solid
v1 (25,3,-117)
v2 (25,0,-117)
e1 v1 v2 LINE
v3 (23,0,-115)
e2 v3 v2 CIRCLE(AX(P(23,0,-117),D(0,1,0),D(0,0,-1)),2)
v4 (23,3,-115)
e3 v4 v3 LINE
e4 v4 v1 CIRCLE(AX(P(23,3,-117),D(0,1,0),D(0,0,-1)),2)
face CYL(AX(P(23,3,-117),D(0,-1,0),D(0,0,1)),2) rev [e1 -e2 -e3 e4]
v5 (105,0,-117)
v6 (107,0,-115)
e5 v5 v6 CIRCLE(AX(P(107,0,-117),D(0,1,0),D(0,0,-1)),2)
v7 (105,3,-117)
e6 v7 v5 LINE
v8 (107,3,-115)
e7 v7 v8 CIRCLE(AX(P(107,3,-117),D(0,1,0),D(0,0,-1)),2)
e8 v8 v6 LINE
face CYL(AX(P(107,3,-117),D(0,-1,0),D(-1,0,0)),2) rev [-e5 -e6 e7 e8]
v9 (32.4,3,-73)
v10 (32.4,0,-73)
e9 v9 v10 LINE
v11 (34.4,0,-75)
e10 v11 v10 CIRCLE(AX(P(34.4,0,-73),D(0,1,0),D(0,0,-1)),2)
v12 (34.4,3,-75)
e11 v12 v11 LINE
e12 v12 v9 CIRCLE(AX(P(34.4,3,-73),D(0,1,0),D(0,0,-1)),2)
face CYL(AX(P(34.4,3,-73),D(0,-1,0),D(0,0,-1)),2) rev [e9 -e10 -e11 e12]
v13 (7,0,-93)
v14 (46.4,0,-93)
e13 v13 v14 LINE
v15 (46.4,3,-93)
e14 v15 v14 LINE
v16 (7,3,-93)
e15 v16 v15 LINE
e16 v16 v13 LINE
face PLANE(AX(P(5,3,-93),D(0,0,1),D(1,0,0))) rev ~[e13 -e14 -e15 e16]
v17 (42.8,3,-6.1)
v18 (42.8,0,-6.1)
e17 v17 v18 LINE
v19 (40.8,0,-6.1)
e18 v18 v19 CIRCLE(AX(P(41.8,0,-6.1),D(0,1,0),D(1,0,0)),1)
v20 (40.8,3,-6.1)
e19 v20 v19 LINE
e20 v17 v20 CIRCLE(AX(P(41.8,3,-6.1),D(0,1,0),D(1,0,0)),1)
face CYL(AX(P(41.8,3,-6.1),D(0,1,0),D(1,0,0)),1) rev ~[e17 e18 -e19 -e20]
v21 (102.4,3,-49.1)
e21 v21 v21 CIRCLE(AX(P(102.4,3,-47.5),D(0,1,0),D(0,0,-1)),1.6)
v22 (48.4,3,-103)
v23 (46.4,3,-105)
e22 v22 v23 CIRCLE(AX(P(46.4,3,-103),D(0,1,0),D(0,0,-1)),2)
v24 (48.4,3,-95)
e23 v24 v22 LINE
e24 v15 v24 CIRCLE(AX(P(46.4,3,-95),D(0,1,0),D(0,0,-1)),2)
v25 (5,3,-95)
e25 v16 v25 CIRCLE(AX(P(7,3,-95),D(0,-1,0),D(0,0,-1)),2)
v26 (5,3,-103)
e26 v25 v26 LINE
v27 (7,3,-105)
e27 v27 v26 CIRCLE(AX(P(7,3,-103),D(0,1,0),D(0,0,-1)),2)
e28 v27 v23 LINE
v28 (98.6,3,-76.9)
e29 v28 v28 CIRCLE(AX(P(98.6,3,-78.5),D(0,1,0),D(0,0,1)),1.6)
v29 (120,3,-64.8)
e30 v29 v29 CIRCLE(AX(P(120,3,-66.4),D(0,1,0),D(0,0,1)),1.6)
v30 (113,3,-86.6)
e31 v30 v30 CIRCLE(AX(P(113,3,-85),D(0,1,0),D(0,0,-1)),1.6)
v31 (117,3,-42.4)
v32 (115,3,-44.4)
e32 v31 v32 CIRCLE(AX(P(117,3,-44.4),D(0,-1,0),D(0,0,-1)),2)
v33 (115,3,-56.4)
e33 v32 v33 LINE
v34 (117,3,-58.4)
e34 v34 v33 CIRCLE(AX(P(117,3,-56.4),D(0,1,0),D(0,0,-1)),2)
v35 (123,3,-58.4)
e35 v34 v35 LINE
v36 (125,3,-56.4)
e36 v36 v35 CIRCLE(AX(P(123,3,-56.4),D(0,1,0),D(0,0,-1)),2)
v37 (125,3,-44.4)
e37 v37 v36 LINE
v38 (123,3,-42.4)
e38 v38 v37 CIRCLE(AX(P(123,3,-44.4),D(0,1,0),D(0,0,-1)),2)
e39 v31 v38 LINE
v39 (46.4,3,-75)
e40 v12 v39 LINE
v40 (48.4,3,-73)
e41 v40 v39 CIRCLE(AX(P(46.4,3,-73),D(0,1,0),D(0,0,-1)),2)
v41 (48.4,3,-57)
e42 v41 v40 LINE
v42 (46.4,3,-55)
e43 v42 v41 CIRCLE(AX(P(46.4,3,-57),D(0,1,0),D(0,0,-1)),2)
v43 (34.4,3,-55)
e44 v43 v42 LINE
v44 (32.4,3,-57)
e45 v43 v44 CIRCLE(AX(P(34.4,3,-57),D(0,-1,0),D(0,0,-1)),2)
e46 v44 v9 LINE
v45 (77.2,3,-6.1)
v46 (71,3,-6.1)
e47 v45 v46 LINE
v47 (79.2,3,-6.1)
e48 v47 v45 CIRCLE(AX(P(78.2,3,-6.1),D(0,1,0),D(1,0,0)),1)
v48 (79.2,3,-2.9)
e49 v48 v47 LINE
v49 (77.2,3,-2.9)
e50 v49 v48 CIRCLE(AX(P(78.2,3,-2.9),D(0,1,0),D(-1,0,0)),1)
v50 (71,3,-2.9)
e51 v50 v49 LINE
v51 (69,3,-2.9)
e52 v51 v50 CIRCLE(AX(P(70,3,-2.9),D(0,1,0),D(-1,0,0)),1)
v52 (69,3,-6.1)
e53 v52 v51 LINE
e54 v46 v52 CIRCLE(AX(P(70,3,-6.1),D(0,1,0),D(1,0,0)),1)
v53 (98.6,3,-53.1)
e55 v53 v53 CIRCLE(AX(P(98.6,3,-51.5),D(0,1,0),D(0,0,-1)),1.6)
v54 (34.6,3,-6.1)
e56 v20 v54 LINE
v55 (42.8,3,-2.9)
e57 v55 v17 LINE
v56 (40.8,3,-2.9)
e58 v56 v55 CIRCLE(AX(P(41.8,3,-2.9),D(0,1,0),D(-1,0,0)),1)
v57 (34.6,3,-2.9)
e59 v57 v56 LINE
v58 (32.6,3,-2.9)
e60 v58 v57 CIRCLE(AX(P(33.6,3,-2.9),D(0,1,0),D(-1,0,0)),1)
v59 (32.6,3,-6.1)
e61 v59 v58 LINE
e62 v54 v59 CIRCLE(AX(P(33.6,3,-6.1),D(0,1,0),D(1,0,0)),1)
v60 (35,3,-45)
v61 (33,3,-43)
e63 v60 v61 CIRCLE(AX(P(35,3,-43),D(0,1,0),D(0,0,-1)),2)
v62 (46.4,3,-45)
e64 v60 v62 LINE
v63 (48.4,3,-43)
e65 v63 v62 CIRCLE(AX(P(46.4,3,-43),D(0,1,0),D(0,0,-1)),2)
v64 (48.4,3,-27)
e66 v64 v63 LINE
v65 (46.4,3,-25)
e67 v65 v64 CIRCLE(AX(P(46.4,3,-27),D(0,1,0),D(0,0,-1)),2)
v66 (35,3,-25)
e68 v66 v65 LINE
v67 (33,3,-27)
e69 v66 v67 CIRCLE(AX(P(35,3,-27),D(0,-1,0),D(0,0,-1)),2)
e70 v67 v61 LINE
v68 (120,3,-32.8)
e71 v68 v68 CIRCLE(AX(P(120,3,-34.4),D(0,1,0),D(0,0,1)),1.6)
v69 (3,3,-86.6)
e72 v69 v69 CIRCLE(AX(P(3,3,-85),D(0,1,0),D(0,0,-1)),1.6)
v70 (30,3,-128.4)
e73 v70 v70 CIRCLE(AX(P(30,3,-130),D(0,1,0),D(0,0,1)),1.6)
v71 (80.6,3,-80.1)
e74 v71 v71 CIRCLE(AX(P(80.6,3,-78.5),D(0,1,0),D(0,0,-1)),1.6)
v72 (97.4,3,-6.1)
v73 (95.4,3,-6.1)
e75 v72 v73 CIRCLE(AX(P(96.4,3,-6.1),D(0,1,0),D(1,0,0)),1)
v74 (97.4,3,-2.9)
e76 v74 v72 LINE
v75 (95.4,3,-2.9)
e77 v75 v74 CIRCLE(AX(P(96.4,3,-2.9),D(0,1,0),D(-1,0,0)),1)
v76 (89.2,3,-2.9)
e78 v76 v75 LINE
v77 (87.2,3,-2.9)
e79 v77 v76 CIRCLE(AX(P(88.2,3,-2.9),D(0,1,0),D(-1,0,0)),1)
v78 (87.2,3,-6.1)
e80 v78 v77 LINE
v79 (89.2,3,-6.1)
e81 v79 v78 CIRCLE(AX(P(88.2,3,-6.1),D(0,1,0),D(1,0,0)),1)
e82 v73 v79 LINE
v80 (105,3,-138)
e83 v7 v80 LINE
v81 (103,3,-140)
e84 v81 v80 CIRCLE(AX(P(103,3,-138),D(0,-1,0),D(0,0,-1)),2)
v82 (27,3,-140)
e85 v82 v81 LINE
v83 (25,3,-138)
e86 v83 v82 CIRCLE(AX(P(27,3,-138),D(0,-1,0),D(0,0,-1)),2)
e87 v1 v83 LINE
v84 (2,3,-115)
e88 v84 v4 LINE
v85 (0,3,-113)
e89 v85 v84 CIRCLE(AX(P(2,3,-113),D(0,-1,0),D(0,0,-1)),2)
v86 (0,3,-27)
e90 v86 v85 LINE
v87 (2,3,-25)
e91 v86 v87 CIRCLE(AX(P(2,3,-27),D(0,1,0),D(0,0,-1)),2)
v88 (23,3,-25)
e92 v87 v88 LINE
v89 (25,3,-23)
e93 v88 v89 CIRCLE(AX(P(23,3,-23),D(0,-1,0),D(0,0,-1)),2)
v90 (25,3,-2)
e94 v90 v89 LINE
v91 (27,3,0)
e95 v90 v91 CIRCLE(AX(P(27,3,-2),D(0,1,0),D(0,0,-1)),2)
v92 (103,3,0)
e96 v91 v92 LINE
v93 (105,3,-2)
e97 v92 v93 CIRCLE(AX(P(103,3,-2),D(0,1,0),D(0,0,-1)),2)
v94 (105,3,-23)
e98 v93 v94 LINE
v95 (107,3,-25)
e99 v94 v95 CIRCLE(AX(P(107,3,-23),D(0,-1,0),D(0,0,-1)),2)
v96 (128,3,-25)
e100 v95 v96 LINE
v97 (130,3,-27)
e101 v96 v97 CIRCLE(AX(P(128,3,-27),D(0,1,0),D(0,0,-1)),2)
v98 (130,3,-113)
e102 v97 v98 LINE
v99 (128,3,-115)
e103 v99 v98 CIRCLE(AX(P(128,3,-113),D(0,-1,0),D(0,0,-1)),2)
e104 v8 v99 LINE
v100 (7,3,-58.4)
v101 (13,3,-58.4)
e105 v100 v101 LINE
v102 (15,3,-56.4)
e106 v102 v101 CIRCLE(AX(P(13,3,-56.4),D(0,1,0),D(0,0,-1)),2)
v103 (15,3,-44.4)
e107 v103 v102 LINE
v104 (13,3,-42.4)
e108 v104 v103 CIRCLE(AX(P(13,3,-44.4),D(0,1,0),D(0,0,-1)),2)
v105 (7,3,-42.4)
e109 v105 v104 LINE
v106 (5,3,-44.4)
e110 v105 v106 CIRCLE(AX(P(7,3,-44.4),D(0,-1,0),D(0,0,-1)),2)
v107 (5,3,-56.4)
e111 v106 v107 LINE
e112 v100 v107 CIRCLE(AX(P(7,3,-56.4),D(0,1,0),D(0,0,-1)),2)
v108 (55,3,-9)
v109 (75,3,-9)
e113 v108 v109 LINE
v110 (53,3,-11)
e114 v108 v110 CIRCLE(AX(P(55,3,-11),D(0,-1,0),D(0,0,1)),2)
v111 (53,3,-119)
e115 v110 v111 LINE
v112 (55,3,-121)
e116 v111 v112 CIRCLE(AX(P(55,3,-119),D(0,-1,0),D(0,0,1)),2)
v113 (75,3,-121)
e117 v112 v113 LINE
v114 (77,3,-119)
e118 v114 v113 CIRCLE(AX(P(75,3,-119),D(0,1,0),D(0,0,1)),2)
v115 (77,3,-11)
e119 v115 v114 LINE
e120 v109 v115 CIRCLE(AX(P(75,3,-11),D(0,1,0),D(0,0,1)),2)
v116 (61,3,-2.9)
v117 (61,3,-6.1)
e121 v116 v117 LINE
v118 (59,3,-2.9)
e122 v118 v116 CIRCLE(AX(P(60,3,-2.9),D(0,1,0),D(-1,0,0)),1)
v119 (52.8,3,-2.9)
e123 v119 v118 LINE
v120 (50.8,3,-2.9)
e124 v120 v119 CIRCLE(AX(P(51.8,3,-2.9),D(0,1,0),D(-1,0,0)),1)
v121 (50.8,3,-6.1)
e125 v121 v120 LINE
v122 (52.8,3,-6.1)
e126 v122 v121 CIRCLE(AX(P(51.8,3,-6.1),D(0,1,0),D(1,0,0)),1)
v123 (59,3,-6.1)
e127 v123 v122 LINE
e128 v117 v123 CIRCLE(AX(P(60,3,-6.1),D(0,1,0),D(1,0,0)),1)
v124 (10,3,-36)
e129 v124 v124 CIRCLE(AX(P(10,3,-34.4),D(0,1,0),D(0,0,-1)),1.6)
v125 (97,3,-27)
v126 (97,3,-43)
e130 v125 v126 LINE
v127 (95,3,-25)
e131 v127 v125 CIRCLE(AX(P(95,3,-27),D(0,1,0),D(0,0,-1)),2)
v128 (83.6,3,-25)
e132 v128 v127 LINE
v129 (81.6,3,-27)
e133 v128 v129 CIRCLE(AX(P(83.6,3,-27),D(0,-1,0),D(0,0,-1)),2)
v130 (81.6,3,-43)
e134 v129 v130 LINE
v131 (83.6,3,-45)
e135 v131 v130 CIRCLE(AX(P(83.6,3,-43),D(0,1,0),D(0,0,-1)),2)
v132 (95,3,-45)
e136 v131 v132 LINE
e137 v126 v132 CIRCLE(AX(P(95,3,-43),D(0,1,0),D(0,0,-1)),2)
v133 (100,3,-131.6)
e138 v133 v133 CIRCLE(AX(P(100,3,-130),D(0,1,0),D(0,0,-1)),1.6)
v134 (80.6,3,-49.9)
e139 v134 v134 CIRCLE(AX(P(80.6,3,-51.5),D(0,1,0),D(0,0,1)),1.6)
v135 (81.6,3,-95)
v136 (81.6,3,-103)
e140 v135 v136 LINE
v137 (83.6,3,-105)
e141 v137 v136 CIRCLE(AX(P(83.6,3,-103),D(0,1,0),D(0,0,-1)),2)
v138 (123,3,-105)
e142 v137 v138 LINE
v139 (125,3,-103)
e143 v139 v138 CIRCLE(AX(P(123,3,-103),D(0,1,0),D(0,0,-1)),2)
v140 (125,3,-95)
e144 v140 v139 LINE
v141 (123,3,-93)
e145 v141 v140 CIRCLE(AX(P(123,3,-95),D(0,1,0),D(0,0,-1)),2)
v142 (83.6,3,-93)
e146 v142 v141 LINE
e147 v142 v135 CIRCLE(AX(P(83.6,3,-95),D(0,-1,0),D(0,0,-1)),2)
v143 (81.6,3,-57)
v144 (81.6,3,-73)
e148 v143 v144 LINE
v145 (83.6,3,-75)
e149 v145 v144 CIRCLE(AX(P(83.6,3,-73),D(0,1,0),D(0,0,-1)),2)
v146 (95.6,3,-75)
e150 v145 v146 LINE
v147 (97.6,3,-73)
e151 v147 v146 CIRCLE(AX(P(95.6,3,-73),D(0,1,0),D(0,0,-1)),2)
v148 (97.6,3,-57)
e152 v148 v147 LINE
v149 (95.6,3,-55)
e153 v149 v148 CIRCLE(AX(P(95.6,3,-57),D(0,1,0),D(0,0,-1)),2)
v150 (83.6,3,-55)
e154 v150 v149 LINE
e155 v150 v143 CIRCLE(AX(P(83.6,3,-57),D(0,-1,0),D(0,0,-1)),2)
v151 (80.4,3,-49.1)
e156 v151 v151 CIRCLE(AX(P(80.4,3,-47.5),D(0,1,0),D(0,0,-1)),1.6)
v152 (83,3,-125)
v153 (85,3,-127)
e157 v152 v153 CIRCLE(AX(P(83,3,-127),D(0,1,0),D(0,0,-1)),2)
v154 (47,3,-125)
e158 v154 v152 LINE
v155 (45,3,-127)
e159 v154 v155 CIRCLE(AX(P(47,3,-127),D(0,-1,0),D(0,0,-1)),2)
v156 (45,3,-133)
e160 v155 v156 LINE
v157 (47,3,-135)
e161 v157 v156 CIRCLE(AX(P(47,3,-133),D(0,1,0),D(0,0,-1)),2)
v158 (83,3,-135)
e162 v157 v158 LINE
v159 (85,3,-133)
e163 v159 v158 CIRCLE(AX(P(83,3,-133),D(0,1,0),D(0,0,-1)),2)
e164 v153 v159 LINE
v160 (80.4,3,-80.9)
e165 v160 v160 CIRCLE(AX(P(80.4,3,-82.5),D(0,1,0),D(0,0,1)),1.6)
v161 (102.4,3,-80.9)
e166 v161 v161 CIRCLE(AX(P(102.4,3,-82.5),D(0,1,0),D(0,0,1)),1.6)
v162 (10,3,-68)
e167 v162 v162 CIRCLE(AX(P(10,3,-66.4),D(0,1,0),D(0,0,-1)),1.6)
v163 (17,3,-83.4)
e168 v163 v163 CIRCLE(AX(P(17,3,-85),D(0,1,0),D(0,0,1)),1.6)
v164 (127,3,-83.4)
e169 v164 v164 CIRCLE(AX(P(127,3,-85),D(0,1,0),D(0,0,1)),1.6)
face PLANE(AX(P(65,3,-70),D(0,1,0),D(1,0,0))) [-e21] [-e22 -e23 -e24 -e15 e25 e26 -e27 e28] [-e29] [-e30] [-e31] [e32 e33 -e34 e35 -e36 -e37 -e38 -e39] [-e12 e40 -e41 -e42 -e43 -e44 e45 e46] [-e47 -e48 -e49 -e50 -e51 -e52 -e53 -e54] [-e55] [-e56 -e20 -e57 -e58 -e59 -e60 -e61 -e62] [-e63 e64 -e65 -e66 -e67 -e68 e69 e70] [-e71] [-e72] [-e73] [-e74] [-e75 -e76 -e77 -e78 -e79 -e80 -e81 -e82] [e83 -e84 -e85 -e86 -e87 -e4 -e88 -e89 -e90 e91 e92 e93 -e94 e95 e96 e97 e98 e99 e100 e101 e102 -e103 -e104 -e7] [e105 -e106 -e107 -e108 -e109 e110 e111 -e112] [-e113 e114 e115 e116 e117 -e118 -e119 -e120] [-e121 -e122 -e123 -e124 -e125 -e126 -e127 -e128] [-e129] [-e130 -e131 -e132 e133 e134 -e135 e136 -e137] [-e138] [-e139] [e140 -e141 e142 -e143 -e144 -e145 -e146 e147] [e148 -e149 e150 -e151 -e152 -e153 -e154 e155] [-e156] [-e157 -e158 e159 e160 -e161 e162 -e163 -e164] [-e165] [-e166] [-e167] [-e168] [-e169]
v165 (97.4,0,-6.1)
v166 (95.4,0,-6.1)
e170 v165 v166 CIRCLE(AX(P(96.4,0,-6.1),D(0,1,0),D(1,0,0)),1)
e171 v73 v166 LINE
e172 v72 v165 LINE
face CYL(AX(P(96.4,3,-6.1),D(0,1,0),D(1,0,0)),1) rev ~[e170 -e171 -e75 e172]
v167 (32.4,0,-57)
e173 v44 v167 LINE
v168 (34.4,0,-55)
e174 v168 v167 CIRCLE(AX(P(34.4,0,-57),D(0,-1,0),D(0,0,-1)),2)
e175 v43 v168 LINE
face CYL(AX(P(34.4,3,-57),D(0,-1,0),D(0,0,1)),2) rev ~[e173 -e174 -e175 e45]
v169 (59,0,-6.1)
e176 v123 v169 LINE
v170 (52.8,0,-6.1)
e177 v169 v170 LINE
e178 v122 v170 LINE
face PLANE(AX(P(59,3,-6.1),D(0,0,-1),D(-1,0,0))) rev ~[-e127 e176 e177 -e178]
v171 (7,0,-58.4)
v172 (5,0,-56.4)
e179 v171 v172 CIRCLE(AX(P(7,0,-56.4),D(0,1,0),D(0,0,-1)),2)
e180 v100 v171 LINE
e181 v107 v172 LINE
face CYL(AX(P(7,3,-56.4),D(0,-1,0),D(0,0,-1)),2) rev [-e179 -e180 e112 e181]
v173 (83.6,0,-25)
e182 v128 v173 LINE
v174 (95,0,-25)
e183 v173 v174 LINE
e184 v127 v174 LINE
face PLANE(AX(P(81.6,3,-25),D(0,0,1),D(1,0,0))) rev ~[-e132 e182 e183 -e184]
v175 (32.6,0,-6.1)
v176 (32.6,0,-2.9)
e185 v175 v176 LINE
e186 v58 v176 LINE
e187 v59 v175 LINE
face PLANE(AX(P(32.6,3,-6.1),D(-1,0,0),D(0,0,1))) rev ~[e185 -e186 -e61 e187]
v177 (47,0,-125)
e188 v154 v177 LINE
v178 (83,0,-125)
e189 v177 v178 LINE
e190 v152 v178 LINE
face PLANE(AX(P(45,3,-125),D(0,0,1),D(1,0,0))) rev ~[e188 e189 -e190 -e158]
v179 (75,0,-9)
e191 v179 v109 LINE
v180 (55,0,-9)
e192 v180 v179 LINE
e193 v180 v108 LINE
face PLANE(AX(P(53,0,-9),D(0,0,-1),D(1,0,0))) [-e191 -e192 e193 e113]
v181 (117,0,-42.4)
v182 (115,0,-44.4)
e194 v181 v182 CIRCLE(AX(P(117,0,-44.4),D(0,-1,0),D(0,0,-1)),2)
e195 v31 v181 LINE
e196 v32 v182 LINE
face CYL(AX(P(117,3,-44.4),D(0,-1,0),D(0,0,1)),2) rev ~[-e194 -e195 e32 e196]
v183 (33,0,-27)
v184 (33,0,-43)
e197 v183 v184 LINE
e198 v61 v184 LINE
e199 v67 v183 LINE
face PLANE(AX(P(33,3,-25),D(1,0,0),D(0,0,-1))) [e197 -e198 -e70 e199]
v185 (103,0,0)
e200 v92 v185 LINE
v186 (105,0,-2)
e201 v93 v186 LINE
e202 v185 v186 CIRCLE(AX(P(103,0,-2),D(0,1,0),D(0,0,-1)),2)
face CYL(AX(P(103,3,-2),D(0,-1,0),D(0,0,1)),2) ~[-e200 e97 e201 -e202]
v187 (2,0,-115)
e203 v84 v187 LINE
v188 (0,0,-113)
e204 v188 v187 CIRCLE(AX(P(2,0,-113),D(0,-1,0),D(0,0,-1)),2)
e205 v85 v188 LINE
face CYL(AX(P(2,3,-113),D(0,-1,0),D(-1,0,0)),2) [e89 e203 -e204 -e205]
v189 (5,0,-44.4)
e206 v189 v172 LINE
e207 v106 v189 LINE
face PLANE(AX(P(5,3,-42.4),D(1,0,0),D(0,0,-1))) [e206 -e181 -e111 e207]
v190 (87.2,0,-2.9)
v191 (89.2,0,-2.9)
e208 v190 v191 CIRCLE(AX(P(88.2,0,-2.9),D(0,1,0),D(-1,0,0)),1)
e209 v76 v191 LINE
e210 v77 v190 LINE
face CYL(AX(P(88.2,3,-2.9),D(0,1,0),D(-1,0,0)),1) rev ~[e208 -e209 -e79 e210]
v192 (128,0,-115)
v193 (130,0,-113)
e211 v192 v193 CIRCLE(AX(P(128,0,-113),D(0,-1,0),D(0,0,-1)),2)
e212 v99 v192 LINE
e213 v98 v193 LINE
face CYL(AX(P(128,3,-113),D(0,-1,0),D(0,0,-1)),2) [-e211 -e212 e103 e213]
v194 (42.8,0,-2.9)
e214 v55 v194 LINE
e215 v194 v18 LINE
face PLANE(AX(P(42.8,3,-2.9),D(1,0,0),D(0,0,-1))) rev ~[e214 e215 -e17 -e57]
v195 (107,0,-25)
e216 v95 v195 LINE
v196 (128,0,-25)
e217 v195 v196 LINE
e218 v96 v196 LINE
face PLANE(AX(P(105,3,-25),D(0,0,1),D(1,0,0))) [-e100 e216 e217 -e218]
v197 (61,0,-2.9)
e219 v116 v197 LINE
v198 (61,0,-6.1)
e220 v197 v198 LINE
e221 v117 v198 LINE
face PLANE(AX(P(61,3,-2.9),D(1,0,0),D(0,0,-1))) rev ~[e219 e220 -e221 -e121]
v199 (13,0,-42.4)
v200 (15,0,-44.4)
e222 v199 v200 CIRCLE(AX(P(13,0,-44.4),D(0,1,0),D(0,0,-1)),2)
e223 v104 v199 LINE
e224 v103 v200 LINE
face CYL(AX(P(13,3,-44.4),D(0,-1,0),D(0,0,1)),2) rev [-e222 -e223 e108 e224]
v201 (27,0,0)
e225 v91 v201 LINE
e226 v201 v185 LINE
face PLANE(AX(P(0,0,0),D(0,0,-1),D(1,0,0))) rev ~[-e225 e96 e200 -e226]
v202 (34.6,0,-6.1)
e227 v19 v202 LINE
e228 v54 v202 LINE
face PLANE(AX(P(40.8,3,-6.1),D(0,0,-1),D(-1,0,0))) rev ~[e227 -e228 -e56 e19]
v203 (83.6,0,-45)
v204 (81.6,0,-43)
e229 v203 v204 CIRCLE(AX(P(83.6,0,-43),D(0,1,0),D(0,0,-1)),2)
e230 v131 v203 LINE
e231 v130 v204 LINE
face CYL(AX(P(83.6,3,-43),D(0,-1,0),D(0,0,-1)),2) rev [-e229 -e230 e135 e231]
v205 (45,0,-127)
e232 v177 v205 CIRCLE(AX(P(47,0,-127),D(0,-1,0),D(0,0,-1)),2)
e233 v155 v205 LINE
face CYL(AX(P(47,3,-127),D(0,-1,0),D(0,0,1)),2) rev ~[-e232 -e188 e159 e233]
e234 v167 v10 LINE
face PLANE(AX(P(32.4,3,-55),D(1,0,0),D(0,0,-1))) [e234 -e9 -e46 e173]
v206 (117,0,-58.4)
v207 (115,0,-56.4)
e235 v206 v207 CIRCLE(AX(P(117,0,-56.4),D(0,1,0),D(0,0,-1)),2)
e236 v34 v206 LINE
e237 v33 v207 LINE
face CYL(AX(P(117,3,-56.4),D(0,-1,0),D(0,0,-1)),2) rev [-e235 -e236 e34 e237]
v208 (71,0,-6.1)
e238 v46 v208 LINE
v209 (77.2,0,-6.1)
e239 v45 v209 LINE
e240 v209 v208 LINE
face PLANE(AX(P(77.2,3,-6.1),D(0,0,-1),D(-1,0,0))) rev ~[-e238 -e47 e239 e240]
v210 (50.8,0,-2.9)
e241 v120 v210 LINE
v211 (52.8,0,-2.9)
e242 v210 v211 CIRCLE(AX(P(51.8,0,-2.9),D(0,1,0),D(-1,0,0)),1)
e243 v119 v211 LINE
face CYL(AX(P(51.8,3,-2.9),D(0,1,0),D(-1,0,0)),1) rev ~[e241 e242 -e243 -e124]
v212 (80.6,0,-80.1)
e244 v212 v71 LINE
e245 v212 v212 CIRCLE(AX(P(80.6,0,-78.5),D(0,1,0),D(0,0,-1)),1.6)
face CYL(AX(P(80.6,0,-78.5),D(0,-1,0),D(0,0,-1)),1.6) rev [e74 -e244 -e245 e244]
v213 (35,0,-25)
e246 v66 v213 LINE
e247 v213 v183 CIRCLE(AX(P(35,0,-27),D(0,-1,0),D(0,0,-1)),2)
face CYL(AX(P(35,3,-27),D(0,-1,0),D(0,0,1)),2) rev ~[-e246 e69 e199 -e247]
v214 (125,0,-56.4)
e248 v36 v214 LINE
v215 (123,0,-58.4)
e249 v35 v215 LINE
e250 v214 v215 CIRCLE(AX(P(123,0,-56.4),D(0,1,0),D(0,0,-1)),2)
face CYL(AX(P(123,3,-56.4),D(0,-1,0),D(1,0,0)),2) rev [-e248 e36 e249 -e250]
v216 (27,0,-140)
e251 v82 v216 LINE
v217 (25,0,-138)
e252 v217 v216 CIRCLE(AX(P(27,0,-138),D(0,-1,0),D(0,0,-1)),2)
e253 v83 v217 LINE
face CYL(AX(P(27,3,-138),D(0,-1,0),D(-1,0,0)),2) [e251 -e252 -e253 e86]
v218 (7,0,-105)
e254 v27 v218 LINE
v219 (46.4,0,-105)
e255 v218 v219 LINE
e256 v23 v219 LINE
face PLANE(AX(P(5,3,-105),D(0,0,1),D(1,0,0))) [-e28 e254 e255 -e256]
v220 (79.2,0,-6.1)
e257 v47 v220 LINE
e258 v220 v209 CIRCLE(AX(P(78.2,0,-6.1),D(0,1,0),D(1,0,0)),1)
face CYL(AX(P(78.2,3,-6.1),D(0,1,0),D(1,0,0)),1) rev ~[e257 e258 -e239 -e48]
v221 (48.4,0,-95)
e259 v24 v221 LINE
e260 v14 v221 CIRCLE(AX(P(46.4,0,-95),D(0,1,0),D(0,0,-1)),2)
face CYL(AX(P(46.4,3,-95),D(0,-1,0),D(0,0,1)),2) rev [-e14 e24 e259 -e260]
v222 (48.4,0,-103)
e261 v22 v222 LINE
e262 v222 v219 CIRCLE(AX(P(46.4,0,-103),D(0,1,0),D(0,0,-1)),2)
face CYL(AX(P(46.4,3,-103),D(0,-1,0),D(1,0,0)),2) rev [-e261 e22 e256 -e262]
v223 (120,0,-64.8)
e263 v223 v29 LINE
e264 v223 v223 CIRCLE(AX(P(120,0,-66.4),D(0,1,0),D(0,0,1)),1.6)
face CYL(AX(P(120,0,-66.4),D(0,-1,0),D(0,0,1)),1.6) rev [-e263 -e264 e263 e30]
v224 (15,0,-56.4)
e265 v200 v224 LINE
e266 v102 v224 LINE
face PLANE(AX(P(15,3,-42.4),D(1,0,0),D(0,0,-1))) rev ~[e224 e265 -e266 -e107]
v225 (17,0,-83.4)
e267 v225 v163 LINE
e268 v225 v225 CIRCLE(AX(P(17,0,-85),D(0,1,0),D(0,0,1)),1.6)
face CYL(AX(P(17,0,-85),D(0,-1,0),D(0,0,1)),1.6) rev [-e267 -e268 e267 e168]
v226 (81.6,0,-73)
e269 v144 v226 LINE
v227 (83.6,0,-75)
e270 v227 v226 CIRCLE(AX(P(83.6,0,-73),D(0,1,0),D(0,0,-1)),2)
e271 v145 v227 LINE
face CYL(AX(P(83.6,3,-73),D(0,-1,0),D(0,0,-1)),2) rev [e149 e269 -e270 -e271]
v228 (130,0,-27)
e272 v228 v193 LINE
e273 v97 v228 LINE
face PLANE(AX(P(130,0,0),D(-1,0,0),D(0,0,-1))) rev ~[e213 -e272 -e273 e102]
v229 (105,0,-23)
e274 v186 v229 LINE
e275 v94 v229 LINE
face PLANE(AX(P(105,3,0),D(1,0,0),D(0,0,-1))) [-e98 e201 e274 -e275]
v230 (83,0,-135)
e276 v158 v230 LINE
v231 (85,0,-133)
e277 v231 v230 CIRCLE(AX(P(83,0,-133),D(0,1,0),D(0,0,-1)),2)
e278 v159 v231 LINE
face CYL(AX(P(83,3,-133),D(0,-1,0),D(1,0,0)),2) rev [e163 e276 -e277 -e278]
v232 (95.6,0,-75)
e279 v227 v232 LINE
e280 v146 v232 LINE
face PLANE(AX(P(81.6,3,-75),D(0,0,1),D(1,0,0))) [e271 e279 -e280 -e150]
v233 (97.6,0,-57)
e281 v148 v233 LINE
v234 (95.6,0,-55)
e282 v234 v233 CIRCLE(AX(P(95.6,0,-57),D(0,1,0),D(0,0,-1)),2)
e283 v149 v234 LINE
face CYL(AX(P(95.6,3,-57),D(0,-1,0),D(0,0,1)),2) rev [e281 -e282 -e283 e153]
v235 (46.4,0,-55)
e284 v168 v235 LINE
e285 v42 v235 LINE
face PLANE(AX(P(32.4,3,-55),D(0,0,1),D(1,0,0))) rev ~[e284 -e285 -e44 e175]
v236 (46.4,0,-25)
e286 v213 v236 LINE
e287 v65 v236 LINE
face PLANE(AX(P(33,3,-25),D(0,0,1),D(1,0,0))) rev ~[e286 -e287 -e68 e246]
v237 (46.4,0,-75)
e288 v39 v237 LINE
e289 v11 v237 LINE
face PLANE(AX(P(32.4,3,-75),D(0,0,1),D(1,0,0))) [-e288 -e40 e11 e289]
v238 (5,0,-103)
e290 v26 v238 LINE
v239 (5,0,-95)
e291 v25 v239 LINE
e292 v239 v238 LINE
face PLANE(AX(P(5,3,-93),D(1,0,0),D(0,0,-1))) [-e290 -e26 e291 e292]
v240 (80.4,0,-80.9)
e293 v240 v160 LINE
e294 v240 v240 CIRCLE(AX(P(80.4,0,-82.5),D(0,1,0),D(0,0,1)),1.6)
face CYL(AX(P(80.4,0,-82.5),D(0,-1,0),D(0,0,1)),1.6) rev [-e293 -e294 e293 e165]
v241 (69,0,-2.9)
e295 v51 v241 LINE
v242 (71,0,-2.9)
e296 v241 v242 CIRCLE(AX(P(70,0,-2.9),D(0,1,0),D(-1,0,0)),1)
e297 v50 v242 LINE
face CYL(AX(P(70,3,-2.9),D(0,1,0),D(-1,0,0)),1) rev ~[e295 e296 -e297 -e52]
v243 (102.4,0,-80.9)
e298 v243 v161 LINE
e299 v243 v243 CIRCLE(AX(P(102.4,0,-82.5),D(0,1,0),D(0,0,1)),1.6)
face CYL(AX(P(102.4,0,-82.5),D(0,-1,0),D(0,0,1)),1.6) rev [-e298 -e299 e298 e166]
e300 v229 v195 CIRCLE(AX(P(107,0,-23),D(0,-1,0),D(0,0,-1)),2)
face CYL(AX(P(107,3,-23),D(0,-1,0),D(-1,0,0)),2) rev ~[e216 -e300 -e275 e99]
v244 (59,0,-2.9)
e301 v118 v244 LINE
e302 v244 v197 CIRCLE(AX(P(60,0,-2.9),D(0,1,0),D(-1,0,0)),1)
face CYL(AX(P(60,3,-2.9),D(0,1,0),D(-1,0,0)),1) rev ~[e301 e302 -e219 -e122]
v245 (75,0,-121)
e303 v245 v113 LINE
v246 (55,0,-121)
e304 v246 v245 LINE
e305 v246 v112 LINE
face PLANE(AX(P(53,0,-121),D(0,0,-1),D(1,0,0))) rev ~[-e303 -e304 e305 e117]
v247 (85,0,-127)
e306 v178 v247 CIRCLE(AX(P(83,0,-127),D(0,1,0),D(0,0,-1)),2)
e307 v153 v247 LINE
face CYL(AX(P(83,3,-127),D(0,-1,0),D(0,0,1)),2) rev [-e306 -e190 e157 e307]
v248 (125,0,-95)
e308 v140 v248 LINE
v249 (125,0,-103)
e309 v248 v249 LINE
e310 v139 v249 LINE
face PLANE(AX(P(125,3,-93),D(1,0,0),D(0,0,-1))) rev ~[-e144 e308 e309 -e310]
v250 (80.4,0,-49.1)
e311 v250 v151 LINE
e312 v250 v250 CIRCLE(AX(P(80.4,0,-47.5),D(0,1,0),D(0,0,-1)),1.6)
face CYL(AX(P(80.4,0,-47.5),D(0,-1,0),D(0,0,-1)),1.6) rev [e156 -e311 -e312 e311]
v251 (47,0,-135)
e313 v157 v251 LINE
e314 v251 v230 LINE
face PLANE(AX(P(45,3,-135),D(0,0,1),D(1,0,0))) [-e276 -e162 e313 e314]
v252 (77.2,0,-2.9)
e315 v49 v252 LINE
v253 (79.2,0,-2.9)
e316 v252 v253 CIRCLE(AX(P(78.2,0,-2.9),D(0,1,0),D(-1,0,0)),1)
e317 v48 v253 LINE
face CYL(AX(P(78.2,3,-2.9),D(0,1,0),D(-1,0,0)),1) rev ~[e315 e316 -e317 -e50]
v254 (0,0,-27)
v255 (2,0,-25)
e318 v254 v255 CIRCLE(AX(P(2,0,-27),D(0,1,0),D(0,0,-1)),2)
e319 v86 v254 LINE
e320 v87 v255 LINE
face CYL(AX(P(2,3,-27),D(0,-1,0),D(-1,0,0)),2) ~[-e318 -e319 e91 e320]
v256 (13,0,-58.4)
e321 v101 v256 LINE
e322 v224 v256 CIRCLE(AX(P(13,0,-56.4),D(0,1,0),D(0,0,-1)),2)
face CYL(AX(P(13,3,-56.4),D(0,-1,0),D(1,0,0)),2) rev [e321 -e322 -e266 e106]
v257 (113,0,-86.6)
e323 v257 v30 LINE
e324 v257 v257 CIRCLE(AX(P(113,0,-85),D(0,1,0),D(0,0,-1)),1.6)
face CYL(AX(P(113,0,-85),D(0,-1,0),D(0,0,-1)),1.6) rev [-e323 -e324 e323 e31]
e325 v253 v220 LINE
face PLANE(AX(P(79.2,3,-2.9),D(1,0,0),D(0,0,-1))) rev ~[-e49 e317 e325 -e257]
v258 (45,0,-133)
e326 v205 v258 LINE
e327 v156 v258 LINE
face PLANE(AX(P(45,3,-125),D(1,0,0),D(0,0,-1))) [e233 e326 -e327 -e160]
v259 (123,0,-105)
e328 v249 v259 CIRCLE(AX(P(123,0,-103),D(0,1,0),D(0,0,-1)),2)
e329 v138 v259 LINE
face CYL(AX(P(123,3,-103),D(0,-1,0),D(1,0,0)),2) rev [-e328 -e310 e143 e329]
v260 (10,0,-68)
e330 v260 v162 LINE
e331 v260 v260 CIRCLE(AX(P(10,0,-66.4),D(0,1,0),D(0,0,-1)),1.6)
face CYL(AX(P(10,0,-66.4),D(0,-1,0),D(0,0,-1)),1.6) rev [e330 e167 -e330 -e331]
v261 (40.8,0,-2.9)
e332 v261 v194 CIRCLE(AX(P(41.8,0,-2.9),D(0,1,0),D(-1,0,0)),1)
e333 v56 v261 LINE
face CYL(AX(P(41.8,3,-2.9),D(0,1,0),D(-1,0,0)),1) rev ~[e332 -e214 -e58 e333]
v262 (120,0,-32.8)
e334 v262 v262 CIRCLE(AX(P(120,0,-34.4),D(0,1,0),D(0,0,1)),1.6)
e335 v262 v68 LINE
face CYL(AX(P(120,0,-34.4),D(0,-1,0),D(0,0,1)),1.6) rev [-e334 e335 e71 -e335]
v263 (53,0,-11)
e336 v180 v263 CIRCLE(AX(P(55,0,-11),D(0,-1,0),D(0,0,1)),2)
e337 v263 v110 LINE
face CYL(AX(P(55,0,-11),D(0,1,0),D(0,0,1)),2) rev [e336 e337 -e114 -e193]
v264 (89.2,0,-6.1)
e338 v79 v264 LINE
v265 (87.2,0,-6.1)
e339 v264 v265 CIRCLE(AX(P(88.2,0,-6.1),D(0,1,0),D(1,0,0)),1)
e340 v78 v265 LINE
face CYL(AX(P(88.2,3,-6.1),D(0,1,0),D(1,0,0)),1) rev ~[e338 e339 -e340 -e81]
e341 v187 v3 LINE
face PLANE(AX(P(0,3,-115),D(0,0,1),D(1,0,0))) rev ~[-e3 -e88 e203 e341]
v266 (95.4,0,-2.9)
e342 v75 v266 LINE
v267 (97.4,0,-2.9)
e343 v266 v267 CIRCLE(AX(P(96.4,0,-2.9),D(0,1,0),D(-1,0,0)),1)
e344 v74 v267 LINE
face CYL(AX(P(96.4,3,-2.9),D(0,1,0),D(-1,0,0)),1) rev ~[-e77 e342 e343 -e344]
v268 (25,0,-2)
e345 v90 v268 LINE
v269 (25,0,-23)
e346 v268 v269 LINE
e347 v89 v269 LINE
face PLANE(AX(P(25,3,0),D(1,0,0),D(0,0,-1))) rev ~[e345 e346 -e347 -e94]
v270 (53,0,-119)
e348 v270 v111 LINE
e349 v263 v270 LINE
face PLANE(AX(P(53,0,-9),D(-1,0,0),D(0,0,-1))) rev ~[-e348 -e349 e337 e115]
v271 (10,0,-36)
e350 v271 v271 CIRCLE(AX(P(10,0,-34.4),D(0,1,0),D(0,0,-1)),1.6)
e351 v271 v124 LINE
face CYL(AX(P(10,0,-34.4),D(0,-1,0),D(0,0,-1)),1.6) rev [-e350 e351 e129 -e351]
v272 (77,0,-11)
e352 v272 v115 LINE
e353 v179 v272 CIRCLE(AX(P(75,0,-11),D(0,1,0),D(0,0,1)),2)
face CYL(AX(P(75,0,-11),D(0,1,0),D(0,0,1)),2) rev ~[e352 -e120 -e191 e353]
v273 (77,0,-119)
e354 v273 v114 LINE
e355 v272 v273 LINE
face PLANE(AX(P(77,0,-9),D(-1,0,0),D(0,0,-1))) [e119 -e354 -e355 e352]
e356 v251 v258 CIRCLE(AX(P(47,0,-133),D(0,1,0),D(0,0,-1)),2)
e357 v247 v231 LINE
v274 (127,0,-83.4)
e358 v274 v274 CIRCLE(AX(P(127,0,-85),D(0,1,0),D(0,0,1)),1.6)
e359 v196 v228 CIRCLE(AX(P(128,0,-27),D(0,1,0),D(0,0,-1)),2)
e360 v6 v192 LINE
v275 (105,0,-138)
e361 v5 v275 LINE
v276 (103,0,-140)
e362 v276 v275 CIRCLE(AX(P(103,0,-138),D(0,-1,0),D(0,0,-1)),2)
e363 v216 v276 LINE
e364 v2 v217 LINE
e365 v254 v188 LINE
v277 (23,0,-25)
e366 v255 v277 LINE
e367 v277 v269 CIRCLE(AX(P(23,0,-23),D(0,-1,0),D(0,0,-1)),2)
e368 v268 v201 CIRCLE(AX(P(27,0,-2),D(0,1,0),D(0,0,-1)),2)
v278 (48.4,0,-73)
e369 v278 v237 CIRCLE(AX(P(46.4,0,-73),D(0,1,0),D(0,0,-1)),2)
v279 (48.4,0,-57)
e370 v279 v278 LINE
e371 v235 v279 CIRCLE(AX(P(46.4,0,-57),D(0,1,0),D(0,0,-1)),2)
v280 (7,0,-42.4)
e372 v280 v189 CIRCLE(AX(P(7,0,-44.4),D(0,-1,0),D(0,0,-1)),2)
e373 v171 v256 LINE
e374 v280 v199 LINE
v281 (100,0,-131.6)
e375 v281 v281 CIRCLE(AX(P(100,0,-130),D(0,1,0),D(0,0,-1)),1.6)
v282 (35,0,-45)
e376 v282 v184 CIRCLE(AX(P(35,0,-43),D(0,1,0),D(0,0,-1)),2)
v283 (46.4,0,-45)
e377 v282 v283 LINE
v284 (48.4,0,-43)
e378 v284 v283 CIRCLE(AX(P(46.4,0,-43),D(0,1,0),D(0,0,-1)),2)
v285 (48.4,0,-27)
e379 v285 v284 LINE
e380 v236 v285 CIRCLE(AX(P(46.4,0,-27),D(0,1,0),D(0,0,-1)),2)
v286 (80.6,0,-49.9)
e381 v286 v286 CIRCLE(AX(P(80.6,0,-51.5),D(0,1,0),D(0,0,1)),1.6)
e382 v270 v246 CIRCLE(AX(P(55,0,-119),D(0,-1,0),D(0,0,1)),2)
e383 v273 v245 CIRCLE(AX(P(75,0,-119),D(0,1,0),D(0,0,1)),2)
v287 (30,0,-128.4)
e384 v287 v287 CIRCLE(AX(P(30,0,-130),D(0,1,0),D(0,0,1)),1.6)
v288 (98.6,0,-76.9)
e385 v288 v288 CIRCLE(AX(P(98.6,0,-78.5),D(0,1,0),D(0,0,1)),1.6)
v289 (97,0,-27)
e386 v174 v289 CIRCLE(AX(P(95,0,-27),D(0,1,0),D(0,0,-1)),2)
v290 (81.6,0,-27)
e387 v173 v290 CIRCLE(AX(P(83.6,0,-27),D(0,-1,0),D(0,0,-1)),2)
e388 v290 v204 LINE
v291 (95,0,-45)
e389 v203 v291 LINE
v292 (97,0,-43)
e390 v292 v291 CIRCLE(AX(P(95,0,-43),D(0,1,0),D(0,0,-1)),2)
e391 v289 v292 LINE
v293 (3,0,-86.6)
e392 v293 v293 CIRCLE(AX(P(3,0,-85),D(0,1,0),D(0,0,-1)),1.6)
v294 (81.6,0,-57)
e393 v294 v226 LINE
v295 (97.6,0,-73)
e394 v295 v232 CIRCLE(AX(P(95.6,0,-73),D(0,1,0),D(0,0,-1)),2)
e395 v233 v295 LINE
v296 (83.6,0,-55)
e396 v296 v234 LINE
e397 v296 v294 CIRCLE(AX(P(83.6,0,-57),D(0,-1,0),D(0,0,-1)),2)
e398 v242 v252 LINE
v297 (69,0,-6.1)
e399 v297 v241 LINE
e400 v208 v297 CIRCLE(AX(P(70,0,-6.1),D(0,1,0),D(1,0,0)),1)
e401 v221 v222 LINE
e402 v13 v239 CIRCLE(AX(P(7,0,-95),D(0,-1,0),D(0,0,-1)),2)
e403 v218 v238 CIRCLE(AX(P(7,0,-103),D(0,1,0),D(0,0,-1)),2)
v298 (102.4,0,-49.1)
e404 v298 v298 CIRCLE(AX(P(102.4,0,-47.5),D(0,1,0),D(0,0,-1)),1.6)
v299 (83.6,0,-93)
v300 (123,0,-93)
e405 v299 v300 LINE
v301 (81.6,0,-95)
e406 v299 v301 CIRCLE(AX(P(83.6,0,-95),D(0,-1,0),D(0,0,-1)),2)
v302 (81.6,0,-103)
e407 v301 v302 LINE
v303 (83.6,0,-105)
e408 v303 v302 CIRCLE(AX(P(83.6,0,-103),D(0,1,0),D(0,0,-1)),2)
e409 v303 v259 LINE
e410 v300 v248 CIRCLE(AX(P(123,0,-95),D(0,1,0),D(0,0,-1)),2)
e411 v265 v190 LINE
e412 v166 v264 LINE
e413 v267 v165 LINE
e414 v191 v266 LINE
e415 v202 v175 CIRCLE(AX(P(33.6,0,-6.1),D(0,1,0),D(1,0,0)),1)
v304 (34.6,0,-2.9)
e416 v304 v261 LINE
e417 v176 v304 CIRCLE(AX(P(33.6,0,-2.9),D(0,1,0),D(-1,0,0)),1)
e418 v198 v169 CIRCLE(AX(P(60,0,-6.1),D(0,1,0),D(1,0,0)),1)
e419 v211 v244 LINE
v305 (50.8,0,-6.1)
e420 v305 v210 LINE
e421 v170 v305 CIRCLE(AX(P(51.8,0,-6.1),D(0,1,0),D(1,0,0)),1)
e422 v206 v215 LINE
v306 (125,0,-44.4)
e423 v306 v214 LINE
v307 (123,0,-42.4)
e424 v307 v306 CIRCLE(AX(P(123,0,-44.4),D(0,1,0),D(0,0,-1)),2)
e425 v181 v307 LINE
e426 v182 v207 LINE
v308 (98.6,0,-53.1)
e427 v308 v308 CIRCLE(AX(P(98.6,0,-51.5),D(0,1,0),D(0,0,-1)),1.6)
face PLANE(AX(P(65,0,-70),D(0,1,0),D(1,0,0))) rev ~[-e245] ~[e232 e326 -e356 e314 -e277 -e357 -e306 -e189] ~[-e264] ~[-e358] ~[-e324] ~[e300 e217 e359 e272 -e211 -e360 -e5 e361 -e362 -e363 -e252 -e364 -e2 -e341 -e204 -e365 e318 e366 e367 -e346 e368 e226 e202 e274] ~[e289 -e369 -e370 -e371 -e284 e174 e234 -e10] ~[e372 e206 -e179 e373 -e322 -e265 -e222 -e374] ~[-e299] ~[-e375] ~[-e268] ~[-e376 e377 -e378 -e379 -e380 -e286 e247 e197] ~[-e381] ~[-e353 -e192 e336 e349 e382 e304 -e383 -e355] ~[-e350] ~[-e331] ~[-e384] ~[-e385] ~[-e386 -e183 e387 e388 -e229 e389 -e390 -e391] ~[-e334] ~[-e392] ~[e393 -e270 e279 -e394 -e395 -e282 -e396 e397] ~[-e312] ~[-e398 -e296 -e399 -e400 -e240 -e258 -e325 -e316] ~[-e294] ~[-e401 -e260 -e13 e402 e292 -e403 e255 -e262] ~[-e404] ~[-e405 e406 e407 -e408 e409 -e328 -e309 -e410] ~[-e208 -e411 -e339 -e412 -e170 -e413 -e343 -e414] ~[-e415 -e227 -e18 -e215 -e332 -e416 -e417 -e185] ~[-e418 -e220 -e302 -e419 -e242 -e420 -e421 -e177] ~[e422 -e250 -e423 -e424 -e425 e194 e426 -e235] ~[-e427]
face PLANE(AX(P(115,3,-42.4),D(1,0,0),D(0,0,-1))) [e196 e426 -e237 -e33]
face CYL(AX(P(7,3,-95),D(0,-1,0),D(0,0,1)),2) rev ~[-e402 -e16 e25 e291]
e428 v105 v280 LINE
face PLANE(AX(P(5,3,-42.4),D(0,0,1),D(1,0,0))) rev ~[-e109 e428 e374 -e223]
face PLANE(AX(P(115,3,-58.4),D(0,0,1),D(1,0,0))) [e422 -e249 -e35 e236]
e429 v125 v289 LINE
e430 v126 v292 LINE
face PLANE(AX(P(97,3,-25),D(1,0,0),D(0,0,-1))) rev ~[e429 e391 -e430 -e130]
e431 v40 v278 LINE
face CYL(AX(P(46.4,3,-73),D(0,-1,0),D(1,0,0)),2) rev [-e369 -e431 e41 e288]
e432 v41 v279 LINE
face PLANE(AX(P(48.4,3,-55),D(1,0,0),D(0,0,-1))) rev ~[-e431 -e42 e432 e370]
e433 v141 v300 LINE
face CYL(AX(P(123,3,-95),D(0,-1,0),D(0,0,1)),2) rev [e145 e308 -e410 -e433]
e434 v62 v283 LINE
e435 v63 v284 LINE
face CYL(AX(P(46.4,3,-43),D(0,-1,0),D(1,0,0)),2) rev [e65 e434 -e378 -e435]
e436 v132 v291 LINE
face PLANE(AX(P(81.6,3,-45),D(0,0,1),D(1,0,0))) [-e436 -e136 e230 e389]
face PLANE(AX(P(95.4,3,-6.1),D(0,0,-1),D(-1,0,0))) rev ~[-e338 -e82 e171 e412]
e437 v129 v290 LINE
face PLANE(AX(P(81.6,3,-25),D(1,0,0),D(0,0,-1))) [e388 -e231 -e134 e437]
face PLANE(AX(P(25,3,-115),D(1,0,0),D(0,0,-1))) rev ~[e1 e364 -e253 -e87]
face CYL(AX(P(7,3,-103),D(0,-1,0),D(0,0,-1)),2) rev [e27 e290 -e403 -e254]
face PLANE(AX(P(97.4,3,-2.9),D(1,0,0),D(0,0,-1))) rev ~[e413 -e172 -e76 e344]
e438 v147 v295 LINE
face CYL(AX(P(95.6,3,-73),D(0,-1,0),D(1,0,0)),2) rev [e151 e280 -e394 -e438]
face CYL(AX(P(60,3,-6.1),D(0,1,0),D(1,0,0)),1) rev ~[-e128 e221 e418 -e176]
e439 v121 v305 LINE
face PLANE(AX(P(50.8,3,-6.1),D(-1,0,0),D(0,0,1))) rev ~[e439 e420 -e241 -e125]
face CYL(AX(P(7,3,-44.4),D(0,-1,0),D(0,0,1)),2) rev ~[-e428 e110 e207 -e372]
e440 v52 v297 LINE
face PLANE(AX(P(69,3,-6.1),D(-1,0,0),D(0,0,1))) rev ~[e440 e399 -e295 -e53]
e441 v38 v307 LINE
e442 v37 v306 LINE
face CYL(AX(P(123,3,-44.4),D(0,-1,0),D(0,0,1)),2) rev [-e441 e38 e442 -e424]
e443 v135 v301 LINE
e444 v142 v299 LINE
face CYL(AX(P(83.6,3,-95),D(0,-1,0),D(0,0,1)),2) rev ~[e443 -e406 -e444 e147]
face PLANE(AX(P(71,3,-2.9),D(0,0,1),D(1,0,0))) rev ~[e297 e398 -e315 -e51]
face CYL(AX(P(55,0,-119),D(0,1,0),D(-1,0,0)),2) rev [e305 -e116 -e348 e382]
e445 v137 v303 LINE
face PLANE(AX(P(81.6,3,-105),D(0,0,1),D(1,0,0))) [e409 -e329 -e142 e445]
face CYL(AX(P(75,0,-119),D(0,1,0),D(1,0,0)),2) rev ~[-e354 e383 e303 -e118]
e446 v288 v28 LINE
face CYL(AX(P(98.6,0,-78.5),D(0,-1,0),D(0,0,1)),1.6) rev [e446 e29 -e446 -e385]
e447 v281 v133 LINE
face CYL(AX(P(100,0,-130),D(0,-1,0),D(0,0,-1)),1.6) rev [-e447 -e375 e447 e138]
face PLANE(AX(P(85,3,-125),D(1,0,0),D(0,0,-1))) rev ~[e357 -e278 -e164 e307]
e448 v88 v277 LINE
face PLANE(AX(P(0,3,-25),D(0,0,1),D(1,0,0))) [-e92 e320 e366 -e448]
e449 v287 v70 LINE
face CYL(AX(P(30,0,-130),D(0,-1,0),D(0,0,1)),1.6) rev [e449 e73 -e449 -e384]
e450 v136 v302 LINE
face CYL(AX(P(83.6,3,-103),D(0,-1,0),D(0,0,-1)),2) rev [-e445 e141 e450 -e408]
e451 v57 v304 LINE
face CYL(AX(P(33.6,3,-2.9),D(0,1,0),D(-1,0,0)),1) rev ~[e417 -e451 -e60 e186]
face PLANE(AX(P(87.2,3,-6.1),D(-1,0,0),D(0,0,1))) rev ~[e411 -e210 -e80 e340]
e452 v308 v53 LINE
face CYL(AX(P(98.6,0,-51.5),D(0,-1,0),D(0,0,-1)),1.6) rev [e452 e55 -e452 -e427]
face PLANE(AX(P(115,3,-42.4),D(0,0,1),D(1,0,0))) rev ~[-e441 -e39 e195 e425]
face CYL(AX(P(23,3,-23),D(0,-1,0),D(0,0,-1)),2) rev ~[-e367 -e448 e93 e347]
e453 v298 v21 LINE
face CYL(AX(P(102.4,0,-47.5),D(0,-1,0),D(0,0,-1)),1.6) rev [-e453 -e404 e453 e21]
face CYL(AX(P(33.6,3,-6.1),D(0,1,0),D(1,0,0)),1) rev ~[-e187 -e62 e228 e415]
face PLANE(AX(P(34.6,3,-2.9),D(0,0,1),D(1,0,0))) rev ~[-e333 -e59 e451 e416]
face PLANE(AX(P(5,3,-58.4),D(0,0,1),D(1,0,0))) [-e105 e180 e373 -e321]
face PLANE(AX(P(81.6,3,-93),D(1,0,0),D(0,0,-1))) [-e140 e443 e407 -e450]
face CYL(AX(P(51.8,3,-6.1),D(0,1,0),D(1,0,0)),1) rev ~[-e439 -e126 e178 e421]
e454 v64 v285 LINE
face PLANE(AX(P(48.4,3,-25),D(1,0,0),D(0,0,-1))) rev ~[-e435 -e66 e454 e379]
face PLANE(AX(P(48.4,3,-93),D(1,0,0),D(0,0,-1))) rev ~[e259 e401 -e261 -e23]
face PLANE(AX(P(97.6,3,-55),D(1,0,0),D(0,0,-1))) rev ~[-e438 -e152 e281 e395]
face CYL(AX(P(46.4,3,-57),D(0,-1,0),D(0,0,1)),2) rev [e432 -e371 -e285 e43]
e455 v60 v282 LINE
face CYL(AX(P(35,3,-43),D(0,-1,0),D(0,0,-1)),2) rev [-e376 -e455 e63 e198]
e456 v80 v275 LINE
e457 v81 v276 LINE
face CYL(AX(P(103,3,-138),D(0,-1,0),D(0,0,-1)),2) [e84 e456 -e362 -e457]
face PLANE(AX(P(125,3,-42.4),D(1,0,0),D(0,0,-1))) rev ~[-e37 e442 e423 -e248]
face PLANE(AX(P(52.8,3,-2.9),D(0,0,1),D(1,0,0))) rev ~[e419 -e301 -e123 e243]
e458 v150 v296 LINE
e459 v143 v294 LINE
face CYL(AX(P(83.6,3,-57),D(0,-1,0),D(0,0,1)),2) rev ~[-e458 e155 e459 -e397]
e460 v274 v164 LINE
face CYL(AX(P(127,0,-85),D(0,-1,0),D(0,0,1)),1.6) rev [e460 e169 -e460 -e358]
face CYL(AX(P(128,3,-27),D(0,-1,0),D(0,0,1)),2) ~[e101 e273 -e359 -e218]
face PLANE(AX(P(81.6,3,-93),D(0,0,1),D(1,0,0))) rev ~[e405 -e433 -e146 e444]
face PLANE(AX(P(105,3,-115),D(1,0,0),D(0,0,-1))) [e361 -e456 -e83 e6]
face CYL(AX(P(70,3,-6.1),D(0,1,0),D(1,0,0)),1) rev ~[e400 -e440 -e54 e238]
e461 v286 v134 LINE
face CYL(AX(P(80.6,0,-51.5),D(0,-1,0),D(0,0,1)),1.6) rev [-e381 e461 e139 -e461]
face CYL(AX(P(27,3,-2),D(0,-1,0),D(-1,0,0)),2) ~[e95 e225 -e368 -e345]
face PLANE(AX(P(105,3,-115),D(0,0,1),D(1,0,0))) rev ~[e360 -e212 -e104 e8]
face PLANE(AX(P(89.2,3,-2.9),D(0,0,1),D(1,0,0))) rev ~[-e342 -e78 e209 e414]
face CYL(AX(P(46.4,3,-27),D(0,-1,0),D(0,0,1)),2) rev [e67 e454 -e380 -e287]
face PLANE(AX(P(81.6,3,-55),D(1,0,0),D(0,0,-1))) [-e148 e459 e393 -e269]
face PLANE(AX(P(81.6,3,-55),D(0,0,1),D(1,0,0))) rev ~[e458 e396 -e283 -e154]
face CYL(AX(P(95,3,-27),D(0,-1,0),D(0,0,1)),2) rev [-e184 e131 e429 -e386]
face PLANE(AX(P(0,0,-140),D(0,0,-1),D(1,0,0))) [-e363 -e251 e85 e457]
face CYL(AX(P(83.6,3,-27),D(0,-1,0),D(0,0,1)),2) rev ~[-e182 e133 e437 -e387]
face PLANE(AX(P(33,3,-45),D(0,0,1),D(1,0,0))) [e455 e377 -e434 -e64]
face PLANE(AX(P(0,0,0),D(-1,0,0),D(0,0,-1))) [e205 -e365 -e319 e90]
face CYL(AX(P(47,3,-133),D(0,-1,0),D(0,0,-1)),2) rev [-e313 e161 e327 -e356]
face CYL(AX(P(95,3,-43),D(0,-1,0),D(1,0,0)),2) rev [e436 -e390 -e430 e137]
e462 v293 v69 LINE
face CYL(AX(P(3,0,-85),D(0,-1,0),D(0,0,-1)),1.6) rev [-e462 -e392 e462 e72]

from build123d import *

# Parameters (mm, degrees)
SKETCH_1_W          = 130
SKETCH_1_H          = 140
SKETCH_1_R          = 1.6
SKETCH_1_W_2        = 24
SKETCH_1_H_2        = 112
EXTRUDE_1_DEPTH     = 3
SKETCH_2_W          = 25
SKETCH_2_H          = 25
CUT_EXTRUDE_1_DEPTH = 3
SKETCH_3_W          = 40
SKETCH_3_H          = 10
SKETCH_3_W_2        = 15.4
SKETCH_3_H_2        = 20
SKETCH_3_W_3        = 16
SKETCH_3_W_4        = 43.4
SKETCH_3_H_3        = 12
SKETCH_3_W_5        = 10
SKETCH_3_H_4        = 16
CUT_EXTRUDE_2_DEPTH = 192.07328437
FILLET_1_R          = 2


with BuildPart() as part:
    # 草图1 → 凸台-拉伸1 (new body)
    with BuildSketch(Plane(origin=(0, 0, 0), x_dir=(1, 0, 0), z_dir=(0, 1, 0))):
        with Locations((65, 70)):
            Rectangle(SKETCH_1_W, SKETCH_1_H)
        with Locations(Location((98.6, 78.5, 0), (0, 0, 270))):
            Circle(SKETCH_1_R, mode=Mode.SUBTRACT)
        with Locations(Location((80.6, 78.5, 0), (0, 0, 90))):
            Circle(SKETCH_1_R, mode=Mode.SUBTRACT)
        with Locations(Location((98.6, 51.5, 0), (0, 0, 90))):
            Circle(SKETCH_1_R, mode=Mode.SUBTRACT)
        with Locations(Location((80.6, 51.5, 0), (0, 0, 270))):
            Circle(SKETCH_1_R, mode=Mode.SUBTRACT)
        with Locations(Location((127, 85, 0), (0, 0, 270))):
            Circle(SKETCH_1_R, mode=Mode.SUBTRACT)
        with Locations(Location((113, 85, 0), (0, 0, 90))):
            Circle(SKETCH_1_R, mode=Mode.SUBTRACT)
        with Locations(Location((120, 66.4, 0), (0, 0, 270))):
            Circle(SKETCH_1_R, mode=Mode.SUBTRACT)
        with Locations(Location((120, 34.4, 0), (0, 0, 270))):
            Circle(SKETCH_1_R, mode=Mode.SUBTRACT)
        with Locations(Location((10, 34.4, 0), (0, 0, 90))):
            Circle(SKETCH_1_R, mode=Mode.SUBTRACT)
        with Locations(Location((10, 66.4, 0), (0, 0, 90))):
            Circle(SKETCH_1_R, mode=Mode.SUBTRACT)
        with Locations(Location((3, 85, 0), (0, 0, 90))):
            Circle(SKETCH_1_R, mode=Mode.SUBTRACT)
        with Locations(Location((17, 85, 0), (0, 0, 270))):
            Circle(SKETCH_1_R, mode=Mode.SUBTRACT)
        with Locations(Location((30, 130, 0), (0, 0, 270))):
            Circle(SKETCH_1_R, mode=Mode.SUBTRACT)
        with Locations(Location((100, 130, 0), (0, 0, 90))):
            Circle(SKETCH_1_R, mode=Mode.SUBTRACT)
        with Locations(Location((80.4, 82.5, 0), (0, 0, 270))):
            Circle(SKETCH_1_R, mode=Mode.SUBTRACT)
        with Locations(Location((80.4, 47.5, 0), (0, 0, 90))):
            Circle(SKETCH_1_R, mode=Mode.SUBTRACT)
        with Locations(Location((102.4, 82.5, 0), (0, 0, 270))):
            Circle(SKETCH_1_R, mode=Mode.SUBTRACT)
        with Locations(Location((102.4, 47.5, 0), (0, 0, 90))):
            Circle(SKETCH_1_R, mode=Mode.SUBTRACT)
        with Locations((65, 65)):
            Rectangle(SKETCH_1_W_2, SKETCH_1_H_2, mode=Mode.SUBTRACT)
    extrude(amount=EXTRUDE_1_DEPTH)

    # 草图2 → 切除-拉伸1 (cut)
    with BuildSketch(Plane(origin=(0, 3, 0), x_dir=(1, 0, 0), z_dir=(0, 1, 0))):
        with Locations((12.5, 127.5)):
            Rectangle(SKETCH_2_W, SKETCH_2_H)
        with Locations((12.5, 12.5)):
            Rectangle(SKETCH_2_W, SKETCH_2_H)
        with Locations((117.5, 12.5)):
            Rectangle(SKETCH_2_W, SKETCH_2_H)
        with Locations((117.5, 127.5)):
            Rectangle(SKETCH_2_W, SKETCH_2_H)
        with BuildLine():
            Line((59, 6.1), (52.8, 6.1))
            ThreePointArc((52.8, 6.1), (51.8, 7.1), (50.8, 6.1))
            Line((50.8, 6.1), (50.8, 2.9))
            ThreePointArc((50.8, 2.9), (51.8, 1.9), (52.8, 2.9))
            Line((52.8, 2.9), (59, 2.9))
            ThreePointArc((59, 2.9), (60, 1.9), (61, 2.9))
            Line((61, 2.9), (61, 6.1))
            ThreePointArc((61, 6.1), (60, 7.1), (59, 6.1))
        make_face()
        with BuildLine():
            ThreePointArc((34.6, 6.1), (33.6, 7.1), (32.6, 6.1))
            Line((32.6, 6.1), (32.6, 2.9))
            ThreePointArc((32.6, 2.9), (33.6, 1.9), (34.6, 2.9))
            Line((34.6, 2.9), (40.8, 2.9))
            ThreePointArc((40.8, 2.9), (41.8, 1.9), (42.8, 2.9))
            Line((42.8, 2.9), (42.8, 6.1))
            ThreePointArc((42.8, 6.1), (41.8, 7.1), (40.8, 6.1))
            Line((40.8, 6.1), (34.6, 6.1))
        make_face()
        with BuildLine():
            Line((77.2, 6.1), (71, 6.1))
            ThreePointArc((71, 6.1), (70, 7.1), (69, 6.1))
            Line((69, 6.1), (69, 2.9))
            ThreePointArc((69, 2.9), (70, 1.9), (71, 2.9))
            Line((71, 2.9), (77.2, 2.9))
            ThreePointArc((77.2, 2.9), (78.2, 1.9), (79.2, 2.9))
            Line((79.2, 2.9), (79.2, 6.1))
            ThreePointArc((79.2, 6.1), (78.2, 7.1), (77.2, 6.1))
        make_face()
        with BuildLine():
            Line((95.4, 6.1), (89.2, 6.1))
            ThreePointArc((89.2, 6.1), (88.2, 7.1), (87.2, 6.1))
            Line((87.2, 6.1), (87.2, 2.9))
            ThreePointArc((87.2, 2.9), (88.2, 1.9), (89.2, 2.9))
            Line((89.2, 2.9), (95.4, 2.9))
            ThreePointArc((95.4, 2.9), (96.4, 1.9), (97.4, 2.9))
            Line((97.4, 2.9), (97.4, 6.1))
            ThreePointArc((97.4, 6.1), (96.4, 7.1), (95.4, 6.1))
        make_face()
    extrude(amount=-CUT_EXTRUDE_1_DEPTH, mode=Mode.SUBTRACT)

    # 草图3 → 切除-拉伸2 (cut, through all)
    with BuildSketch(Plane(origin=(0, 3, 0), x_dir=(1, 0, 0), z_dir=(0, 1, 0))):
        with Locations((65, 130)):
            Rectangle(SKETCH_3_W, SKETCH_3_H)
        with Locations((40.7, 35)):
            Rectangle(SKETCH_3_W_2, SKETCH_3_H_2)
        with Locations((89.6, 65)):
            Rectangle(SKETCH_3_W_3, SKETCH_3_H_2)
        with Locations((103.3, 99)):
            Rectangle(SKETCH_3_W_4, SKETCH_3_H_3)
        with Locations((89.3, 35)):
            Rectangle(SKETCH_3_W_2, SKETCH_3_H_2)
        with Locations((120, 50.4)):
            Rectangle(SKETCH_3_W_5, SKETCH_3_H_4)
        with Locations((10, 50.4)):
            Rectangle(SKETCH_3_W_5, SKETCH_3_H_4)
        with Locations((40.4, 65)):
            Rectangle(SKETCH_3_W_3, SKETCH_3_H_2)
        with Locations((26.7, 99)):
            Rectangle(SKETCH_3_W_4, SKETCH_3_H_3)
    extrude(amount=-CUT_EXTRUDE_2_DEPTH, mode=Mode.SUBTRACT)

    # 圆角1
    fillet_1_edges = [part.edges().sort_by_distance(p)[0] for p in [
        (105, 1.5, -140),
        (130, 1.5, -115),
        (105, 1.5, -115),
        (105, 1.5, 0),
        (105, 1.5, -25),
        (130, 1.5, -25),
        (25, 1.5, 0),
        (0, 1.5, -25),
        (25, 1.5, -25),
        (25, 1.5, -140),
        (25, 1.5, -115),
        (0, 1.5, -115),
        (85, 1.5, -135),
        (85, 1.5, -125),
        (45, 1.5, -125),
        (45, 1.5, -135),
        (125, 1.5, -58.4),
        (125, 1.5, -42.4),
        (115, 1.5, -42.4),
        (115, 1.5, -58.4),
        (15, 1.5, -58.4),
        (15, 1.5, -42.4),
        (5, 1.5, -42.4),
        (5, 1.5, -58.4),
        (48.4, 1.5, -75),
        (48.4, 1.5, -55),
        (32.4, 1.5, -55),
        (32.4, 1.5, -75),
        (48.4, 1.5, -105),
        (48.4, 1.5, -93),
        (5, 1.5, -93),
        (5, 1.5, -105),
        (48.4, 1.5, -45),
        (48.4, 1.5, -25),
        (33, 1.5, -25),
        (33, 1.5, -45),
        (97.6, 1.5, -75),
        (97.6, 1.5, -55),
        (81.6, 1.5, -55),
        (81.6, 1.5, -75),
        (125, 1.5, -105),
        (125, 1.5, -93),
        (81.6, 1.5, -93),
        (81.6, 1.5, -105),
        (97, 1.5, -45),
        (97, 1.5, -25),
        (81.6, 1.5, -25),
        (81.6, 1.5, -45),
        (77, 1.5, -9),
        (77, 1.5, -121),
        (53, 1.5, -121),
        (53, 1.5, -9),
    ]]
    fillet(fillet_1_edges, radius=FILLET_1_R)


solid = part.part
